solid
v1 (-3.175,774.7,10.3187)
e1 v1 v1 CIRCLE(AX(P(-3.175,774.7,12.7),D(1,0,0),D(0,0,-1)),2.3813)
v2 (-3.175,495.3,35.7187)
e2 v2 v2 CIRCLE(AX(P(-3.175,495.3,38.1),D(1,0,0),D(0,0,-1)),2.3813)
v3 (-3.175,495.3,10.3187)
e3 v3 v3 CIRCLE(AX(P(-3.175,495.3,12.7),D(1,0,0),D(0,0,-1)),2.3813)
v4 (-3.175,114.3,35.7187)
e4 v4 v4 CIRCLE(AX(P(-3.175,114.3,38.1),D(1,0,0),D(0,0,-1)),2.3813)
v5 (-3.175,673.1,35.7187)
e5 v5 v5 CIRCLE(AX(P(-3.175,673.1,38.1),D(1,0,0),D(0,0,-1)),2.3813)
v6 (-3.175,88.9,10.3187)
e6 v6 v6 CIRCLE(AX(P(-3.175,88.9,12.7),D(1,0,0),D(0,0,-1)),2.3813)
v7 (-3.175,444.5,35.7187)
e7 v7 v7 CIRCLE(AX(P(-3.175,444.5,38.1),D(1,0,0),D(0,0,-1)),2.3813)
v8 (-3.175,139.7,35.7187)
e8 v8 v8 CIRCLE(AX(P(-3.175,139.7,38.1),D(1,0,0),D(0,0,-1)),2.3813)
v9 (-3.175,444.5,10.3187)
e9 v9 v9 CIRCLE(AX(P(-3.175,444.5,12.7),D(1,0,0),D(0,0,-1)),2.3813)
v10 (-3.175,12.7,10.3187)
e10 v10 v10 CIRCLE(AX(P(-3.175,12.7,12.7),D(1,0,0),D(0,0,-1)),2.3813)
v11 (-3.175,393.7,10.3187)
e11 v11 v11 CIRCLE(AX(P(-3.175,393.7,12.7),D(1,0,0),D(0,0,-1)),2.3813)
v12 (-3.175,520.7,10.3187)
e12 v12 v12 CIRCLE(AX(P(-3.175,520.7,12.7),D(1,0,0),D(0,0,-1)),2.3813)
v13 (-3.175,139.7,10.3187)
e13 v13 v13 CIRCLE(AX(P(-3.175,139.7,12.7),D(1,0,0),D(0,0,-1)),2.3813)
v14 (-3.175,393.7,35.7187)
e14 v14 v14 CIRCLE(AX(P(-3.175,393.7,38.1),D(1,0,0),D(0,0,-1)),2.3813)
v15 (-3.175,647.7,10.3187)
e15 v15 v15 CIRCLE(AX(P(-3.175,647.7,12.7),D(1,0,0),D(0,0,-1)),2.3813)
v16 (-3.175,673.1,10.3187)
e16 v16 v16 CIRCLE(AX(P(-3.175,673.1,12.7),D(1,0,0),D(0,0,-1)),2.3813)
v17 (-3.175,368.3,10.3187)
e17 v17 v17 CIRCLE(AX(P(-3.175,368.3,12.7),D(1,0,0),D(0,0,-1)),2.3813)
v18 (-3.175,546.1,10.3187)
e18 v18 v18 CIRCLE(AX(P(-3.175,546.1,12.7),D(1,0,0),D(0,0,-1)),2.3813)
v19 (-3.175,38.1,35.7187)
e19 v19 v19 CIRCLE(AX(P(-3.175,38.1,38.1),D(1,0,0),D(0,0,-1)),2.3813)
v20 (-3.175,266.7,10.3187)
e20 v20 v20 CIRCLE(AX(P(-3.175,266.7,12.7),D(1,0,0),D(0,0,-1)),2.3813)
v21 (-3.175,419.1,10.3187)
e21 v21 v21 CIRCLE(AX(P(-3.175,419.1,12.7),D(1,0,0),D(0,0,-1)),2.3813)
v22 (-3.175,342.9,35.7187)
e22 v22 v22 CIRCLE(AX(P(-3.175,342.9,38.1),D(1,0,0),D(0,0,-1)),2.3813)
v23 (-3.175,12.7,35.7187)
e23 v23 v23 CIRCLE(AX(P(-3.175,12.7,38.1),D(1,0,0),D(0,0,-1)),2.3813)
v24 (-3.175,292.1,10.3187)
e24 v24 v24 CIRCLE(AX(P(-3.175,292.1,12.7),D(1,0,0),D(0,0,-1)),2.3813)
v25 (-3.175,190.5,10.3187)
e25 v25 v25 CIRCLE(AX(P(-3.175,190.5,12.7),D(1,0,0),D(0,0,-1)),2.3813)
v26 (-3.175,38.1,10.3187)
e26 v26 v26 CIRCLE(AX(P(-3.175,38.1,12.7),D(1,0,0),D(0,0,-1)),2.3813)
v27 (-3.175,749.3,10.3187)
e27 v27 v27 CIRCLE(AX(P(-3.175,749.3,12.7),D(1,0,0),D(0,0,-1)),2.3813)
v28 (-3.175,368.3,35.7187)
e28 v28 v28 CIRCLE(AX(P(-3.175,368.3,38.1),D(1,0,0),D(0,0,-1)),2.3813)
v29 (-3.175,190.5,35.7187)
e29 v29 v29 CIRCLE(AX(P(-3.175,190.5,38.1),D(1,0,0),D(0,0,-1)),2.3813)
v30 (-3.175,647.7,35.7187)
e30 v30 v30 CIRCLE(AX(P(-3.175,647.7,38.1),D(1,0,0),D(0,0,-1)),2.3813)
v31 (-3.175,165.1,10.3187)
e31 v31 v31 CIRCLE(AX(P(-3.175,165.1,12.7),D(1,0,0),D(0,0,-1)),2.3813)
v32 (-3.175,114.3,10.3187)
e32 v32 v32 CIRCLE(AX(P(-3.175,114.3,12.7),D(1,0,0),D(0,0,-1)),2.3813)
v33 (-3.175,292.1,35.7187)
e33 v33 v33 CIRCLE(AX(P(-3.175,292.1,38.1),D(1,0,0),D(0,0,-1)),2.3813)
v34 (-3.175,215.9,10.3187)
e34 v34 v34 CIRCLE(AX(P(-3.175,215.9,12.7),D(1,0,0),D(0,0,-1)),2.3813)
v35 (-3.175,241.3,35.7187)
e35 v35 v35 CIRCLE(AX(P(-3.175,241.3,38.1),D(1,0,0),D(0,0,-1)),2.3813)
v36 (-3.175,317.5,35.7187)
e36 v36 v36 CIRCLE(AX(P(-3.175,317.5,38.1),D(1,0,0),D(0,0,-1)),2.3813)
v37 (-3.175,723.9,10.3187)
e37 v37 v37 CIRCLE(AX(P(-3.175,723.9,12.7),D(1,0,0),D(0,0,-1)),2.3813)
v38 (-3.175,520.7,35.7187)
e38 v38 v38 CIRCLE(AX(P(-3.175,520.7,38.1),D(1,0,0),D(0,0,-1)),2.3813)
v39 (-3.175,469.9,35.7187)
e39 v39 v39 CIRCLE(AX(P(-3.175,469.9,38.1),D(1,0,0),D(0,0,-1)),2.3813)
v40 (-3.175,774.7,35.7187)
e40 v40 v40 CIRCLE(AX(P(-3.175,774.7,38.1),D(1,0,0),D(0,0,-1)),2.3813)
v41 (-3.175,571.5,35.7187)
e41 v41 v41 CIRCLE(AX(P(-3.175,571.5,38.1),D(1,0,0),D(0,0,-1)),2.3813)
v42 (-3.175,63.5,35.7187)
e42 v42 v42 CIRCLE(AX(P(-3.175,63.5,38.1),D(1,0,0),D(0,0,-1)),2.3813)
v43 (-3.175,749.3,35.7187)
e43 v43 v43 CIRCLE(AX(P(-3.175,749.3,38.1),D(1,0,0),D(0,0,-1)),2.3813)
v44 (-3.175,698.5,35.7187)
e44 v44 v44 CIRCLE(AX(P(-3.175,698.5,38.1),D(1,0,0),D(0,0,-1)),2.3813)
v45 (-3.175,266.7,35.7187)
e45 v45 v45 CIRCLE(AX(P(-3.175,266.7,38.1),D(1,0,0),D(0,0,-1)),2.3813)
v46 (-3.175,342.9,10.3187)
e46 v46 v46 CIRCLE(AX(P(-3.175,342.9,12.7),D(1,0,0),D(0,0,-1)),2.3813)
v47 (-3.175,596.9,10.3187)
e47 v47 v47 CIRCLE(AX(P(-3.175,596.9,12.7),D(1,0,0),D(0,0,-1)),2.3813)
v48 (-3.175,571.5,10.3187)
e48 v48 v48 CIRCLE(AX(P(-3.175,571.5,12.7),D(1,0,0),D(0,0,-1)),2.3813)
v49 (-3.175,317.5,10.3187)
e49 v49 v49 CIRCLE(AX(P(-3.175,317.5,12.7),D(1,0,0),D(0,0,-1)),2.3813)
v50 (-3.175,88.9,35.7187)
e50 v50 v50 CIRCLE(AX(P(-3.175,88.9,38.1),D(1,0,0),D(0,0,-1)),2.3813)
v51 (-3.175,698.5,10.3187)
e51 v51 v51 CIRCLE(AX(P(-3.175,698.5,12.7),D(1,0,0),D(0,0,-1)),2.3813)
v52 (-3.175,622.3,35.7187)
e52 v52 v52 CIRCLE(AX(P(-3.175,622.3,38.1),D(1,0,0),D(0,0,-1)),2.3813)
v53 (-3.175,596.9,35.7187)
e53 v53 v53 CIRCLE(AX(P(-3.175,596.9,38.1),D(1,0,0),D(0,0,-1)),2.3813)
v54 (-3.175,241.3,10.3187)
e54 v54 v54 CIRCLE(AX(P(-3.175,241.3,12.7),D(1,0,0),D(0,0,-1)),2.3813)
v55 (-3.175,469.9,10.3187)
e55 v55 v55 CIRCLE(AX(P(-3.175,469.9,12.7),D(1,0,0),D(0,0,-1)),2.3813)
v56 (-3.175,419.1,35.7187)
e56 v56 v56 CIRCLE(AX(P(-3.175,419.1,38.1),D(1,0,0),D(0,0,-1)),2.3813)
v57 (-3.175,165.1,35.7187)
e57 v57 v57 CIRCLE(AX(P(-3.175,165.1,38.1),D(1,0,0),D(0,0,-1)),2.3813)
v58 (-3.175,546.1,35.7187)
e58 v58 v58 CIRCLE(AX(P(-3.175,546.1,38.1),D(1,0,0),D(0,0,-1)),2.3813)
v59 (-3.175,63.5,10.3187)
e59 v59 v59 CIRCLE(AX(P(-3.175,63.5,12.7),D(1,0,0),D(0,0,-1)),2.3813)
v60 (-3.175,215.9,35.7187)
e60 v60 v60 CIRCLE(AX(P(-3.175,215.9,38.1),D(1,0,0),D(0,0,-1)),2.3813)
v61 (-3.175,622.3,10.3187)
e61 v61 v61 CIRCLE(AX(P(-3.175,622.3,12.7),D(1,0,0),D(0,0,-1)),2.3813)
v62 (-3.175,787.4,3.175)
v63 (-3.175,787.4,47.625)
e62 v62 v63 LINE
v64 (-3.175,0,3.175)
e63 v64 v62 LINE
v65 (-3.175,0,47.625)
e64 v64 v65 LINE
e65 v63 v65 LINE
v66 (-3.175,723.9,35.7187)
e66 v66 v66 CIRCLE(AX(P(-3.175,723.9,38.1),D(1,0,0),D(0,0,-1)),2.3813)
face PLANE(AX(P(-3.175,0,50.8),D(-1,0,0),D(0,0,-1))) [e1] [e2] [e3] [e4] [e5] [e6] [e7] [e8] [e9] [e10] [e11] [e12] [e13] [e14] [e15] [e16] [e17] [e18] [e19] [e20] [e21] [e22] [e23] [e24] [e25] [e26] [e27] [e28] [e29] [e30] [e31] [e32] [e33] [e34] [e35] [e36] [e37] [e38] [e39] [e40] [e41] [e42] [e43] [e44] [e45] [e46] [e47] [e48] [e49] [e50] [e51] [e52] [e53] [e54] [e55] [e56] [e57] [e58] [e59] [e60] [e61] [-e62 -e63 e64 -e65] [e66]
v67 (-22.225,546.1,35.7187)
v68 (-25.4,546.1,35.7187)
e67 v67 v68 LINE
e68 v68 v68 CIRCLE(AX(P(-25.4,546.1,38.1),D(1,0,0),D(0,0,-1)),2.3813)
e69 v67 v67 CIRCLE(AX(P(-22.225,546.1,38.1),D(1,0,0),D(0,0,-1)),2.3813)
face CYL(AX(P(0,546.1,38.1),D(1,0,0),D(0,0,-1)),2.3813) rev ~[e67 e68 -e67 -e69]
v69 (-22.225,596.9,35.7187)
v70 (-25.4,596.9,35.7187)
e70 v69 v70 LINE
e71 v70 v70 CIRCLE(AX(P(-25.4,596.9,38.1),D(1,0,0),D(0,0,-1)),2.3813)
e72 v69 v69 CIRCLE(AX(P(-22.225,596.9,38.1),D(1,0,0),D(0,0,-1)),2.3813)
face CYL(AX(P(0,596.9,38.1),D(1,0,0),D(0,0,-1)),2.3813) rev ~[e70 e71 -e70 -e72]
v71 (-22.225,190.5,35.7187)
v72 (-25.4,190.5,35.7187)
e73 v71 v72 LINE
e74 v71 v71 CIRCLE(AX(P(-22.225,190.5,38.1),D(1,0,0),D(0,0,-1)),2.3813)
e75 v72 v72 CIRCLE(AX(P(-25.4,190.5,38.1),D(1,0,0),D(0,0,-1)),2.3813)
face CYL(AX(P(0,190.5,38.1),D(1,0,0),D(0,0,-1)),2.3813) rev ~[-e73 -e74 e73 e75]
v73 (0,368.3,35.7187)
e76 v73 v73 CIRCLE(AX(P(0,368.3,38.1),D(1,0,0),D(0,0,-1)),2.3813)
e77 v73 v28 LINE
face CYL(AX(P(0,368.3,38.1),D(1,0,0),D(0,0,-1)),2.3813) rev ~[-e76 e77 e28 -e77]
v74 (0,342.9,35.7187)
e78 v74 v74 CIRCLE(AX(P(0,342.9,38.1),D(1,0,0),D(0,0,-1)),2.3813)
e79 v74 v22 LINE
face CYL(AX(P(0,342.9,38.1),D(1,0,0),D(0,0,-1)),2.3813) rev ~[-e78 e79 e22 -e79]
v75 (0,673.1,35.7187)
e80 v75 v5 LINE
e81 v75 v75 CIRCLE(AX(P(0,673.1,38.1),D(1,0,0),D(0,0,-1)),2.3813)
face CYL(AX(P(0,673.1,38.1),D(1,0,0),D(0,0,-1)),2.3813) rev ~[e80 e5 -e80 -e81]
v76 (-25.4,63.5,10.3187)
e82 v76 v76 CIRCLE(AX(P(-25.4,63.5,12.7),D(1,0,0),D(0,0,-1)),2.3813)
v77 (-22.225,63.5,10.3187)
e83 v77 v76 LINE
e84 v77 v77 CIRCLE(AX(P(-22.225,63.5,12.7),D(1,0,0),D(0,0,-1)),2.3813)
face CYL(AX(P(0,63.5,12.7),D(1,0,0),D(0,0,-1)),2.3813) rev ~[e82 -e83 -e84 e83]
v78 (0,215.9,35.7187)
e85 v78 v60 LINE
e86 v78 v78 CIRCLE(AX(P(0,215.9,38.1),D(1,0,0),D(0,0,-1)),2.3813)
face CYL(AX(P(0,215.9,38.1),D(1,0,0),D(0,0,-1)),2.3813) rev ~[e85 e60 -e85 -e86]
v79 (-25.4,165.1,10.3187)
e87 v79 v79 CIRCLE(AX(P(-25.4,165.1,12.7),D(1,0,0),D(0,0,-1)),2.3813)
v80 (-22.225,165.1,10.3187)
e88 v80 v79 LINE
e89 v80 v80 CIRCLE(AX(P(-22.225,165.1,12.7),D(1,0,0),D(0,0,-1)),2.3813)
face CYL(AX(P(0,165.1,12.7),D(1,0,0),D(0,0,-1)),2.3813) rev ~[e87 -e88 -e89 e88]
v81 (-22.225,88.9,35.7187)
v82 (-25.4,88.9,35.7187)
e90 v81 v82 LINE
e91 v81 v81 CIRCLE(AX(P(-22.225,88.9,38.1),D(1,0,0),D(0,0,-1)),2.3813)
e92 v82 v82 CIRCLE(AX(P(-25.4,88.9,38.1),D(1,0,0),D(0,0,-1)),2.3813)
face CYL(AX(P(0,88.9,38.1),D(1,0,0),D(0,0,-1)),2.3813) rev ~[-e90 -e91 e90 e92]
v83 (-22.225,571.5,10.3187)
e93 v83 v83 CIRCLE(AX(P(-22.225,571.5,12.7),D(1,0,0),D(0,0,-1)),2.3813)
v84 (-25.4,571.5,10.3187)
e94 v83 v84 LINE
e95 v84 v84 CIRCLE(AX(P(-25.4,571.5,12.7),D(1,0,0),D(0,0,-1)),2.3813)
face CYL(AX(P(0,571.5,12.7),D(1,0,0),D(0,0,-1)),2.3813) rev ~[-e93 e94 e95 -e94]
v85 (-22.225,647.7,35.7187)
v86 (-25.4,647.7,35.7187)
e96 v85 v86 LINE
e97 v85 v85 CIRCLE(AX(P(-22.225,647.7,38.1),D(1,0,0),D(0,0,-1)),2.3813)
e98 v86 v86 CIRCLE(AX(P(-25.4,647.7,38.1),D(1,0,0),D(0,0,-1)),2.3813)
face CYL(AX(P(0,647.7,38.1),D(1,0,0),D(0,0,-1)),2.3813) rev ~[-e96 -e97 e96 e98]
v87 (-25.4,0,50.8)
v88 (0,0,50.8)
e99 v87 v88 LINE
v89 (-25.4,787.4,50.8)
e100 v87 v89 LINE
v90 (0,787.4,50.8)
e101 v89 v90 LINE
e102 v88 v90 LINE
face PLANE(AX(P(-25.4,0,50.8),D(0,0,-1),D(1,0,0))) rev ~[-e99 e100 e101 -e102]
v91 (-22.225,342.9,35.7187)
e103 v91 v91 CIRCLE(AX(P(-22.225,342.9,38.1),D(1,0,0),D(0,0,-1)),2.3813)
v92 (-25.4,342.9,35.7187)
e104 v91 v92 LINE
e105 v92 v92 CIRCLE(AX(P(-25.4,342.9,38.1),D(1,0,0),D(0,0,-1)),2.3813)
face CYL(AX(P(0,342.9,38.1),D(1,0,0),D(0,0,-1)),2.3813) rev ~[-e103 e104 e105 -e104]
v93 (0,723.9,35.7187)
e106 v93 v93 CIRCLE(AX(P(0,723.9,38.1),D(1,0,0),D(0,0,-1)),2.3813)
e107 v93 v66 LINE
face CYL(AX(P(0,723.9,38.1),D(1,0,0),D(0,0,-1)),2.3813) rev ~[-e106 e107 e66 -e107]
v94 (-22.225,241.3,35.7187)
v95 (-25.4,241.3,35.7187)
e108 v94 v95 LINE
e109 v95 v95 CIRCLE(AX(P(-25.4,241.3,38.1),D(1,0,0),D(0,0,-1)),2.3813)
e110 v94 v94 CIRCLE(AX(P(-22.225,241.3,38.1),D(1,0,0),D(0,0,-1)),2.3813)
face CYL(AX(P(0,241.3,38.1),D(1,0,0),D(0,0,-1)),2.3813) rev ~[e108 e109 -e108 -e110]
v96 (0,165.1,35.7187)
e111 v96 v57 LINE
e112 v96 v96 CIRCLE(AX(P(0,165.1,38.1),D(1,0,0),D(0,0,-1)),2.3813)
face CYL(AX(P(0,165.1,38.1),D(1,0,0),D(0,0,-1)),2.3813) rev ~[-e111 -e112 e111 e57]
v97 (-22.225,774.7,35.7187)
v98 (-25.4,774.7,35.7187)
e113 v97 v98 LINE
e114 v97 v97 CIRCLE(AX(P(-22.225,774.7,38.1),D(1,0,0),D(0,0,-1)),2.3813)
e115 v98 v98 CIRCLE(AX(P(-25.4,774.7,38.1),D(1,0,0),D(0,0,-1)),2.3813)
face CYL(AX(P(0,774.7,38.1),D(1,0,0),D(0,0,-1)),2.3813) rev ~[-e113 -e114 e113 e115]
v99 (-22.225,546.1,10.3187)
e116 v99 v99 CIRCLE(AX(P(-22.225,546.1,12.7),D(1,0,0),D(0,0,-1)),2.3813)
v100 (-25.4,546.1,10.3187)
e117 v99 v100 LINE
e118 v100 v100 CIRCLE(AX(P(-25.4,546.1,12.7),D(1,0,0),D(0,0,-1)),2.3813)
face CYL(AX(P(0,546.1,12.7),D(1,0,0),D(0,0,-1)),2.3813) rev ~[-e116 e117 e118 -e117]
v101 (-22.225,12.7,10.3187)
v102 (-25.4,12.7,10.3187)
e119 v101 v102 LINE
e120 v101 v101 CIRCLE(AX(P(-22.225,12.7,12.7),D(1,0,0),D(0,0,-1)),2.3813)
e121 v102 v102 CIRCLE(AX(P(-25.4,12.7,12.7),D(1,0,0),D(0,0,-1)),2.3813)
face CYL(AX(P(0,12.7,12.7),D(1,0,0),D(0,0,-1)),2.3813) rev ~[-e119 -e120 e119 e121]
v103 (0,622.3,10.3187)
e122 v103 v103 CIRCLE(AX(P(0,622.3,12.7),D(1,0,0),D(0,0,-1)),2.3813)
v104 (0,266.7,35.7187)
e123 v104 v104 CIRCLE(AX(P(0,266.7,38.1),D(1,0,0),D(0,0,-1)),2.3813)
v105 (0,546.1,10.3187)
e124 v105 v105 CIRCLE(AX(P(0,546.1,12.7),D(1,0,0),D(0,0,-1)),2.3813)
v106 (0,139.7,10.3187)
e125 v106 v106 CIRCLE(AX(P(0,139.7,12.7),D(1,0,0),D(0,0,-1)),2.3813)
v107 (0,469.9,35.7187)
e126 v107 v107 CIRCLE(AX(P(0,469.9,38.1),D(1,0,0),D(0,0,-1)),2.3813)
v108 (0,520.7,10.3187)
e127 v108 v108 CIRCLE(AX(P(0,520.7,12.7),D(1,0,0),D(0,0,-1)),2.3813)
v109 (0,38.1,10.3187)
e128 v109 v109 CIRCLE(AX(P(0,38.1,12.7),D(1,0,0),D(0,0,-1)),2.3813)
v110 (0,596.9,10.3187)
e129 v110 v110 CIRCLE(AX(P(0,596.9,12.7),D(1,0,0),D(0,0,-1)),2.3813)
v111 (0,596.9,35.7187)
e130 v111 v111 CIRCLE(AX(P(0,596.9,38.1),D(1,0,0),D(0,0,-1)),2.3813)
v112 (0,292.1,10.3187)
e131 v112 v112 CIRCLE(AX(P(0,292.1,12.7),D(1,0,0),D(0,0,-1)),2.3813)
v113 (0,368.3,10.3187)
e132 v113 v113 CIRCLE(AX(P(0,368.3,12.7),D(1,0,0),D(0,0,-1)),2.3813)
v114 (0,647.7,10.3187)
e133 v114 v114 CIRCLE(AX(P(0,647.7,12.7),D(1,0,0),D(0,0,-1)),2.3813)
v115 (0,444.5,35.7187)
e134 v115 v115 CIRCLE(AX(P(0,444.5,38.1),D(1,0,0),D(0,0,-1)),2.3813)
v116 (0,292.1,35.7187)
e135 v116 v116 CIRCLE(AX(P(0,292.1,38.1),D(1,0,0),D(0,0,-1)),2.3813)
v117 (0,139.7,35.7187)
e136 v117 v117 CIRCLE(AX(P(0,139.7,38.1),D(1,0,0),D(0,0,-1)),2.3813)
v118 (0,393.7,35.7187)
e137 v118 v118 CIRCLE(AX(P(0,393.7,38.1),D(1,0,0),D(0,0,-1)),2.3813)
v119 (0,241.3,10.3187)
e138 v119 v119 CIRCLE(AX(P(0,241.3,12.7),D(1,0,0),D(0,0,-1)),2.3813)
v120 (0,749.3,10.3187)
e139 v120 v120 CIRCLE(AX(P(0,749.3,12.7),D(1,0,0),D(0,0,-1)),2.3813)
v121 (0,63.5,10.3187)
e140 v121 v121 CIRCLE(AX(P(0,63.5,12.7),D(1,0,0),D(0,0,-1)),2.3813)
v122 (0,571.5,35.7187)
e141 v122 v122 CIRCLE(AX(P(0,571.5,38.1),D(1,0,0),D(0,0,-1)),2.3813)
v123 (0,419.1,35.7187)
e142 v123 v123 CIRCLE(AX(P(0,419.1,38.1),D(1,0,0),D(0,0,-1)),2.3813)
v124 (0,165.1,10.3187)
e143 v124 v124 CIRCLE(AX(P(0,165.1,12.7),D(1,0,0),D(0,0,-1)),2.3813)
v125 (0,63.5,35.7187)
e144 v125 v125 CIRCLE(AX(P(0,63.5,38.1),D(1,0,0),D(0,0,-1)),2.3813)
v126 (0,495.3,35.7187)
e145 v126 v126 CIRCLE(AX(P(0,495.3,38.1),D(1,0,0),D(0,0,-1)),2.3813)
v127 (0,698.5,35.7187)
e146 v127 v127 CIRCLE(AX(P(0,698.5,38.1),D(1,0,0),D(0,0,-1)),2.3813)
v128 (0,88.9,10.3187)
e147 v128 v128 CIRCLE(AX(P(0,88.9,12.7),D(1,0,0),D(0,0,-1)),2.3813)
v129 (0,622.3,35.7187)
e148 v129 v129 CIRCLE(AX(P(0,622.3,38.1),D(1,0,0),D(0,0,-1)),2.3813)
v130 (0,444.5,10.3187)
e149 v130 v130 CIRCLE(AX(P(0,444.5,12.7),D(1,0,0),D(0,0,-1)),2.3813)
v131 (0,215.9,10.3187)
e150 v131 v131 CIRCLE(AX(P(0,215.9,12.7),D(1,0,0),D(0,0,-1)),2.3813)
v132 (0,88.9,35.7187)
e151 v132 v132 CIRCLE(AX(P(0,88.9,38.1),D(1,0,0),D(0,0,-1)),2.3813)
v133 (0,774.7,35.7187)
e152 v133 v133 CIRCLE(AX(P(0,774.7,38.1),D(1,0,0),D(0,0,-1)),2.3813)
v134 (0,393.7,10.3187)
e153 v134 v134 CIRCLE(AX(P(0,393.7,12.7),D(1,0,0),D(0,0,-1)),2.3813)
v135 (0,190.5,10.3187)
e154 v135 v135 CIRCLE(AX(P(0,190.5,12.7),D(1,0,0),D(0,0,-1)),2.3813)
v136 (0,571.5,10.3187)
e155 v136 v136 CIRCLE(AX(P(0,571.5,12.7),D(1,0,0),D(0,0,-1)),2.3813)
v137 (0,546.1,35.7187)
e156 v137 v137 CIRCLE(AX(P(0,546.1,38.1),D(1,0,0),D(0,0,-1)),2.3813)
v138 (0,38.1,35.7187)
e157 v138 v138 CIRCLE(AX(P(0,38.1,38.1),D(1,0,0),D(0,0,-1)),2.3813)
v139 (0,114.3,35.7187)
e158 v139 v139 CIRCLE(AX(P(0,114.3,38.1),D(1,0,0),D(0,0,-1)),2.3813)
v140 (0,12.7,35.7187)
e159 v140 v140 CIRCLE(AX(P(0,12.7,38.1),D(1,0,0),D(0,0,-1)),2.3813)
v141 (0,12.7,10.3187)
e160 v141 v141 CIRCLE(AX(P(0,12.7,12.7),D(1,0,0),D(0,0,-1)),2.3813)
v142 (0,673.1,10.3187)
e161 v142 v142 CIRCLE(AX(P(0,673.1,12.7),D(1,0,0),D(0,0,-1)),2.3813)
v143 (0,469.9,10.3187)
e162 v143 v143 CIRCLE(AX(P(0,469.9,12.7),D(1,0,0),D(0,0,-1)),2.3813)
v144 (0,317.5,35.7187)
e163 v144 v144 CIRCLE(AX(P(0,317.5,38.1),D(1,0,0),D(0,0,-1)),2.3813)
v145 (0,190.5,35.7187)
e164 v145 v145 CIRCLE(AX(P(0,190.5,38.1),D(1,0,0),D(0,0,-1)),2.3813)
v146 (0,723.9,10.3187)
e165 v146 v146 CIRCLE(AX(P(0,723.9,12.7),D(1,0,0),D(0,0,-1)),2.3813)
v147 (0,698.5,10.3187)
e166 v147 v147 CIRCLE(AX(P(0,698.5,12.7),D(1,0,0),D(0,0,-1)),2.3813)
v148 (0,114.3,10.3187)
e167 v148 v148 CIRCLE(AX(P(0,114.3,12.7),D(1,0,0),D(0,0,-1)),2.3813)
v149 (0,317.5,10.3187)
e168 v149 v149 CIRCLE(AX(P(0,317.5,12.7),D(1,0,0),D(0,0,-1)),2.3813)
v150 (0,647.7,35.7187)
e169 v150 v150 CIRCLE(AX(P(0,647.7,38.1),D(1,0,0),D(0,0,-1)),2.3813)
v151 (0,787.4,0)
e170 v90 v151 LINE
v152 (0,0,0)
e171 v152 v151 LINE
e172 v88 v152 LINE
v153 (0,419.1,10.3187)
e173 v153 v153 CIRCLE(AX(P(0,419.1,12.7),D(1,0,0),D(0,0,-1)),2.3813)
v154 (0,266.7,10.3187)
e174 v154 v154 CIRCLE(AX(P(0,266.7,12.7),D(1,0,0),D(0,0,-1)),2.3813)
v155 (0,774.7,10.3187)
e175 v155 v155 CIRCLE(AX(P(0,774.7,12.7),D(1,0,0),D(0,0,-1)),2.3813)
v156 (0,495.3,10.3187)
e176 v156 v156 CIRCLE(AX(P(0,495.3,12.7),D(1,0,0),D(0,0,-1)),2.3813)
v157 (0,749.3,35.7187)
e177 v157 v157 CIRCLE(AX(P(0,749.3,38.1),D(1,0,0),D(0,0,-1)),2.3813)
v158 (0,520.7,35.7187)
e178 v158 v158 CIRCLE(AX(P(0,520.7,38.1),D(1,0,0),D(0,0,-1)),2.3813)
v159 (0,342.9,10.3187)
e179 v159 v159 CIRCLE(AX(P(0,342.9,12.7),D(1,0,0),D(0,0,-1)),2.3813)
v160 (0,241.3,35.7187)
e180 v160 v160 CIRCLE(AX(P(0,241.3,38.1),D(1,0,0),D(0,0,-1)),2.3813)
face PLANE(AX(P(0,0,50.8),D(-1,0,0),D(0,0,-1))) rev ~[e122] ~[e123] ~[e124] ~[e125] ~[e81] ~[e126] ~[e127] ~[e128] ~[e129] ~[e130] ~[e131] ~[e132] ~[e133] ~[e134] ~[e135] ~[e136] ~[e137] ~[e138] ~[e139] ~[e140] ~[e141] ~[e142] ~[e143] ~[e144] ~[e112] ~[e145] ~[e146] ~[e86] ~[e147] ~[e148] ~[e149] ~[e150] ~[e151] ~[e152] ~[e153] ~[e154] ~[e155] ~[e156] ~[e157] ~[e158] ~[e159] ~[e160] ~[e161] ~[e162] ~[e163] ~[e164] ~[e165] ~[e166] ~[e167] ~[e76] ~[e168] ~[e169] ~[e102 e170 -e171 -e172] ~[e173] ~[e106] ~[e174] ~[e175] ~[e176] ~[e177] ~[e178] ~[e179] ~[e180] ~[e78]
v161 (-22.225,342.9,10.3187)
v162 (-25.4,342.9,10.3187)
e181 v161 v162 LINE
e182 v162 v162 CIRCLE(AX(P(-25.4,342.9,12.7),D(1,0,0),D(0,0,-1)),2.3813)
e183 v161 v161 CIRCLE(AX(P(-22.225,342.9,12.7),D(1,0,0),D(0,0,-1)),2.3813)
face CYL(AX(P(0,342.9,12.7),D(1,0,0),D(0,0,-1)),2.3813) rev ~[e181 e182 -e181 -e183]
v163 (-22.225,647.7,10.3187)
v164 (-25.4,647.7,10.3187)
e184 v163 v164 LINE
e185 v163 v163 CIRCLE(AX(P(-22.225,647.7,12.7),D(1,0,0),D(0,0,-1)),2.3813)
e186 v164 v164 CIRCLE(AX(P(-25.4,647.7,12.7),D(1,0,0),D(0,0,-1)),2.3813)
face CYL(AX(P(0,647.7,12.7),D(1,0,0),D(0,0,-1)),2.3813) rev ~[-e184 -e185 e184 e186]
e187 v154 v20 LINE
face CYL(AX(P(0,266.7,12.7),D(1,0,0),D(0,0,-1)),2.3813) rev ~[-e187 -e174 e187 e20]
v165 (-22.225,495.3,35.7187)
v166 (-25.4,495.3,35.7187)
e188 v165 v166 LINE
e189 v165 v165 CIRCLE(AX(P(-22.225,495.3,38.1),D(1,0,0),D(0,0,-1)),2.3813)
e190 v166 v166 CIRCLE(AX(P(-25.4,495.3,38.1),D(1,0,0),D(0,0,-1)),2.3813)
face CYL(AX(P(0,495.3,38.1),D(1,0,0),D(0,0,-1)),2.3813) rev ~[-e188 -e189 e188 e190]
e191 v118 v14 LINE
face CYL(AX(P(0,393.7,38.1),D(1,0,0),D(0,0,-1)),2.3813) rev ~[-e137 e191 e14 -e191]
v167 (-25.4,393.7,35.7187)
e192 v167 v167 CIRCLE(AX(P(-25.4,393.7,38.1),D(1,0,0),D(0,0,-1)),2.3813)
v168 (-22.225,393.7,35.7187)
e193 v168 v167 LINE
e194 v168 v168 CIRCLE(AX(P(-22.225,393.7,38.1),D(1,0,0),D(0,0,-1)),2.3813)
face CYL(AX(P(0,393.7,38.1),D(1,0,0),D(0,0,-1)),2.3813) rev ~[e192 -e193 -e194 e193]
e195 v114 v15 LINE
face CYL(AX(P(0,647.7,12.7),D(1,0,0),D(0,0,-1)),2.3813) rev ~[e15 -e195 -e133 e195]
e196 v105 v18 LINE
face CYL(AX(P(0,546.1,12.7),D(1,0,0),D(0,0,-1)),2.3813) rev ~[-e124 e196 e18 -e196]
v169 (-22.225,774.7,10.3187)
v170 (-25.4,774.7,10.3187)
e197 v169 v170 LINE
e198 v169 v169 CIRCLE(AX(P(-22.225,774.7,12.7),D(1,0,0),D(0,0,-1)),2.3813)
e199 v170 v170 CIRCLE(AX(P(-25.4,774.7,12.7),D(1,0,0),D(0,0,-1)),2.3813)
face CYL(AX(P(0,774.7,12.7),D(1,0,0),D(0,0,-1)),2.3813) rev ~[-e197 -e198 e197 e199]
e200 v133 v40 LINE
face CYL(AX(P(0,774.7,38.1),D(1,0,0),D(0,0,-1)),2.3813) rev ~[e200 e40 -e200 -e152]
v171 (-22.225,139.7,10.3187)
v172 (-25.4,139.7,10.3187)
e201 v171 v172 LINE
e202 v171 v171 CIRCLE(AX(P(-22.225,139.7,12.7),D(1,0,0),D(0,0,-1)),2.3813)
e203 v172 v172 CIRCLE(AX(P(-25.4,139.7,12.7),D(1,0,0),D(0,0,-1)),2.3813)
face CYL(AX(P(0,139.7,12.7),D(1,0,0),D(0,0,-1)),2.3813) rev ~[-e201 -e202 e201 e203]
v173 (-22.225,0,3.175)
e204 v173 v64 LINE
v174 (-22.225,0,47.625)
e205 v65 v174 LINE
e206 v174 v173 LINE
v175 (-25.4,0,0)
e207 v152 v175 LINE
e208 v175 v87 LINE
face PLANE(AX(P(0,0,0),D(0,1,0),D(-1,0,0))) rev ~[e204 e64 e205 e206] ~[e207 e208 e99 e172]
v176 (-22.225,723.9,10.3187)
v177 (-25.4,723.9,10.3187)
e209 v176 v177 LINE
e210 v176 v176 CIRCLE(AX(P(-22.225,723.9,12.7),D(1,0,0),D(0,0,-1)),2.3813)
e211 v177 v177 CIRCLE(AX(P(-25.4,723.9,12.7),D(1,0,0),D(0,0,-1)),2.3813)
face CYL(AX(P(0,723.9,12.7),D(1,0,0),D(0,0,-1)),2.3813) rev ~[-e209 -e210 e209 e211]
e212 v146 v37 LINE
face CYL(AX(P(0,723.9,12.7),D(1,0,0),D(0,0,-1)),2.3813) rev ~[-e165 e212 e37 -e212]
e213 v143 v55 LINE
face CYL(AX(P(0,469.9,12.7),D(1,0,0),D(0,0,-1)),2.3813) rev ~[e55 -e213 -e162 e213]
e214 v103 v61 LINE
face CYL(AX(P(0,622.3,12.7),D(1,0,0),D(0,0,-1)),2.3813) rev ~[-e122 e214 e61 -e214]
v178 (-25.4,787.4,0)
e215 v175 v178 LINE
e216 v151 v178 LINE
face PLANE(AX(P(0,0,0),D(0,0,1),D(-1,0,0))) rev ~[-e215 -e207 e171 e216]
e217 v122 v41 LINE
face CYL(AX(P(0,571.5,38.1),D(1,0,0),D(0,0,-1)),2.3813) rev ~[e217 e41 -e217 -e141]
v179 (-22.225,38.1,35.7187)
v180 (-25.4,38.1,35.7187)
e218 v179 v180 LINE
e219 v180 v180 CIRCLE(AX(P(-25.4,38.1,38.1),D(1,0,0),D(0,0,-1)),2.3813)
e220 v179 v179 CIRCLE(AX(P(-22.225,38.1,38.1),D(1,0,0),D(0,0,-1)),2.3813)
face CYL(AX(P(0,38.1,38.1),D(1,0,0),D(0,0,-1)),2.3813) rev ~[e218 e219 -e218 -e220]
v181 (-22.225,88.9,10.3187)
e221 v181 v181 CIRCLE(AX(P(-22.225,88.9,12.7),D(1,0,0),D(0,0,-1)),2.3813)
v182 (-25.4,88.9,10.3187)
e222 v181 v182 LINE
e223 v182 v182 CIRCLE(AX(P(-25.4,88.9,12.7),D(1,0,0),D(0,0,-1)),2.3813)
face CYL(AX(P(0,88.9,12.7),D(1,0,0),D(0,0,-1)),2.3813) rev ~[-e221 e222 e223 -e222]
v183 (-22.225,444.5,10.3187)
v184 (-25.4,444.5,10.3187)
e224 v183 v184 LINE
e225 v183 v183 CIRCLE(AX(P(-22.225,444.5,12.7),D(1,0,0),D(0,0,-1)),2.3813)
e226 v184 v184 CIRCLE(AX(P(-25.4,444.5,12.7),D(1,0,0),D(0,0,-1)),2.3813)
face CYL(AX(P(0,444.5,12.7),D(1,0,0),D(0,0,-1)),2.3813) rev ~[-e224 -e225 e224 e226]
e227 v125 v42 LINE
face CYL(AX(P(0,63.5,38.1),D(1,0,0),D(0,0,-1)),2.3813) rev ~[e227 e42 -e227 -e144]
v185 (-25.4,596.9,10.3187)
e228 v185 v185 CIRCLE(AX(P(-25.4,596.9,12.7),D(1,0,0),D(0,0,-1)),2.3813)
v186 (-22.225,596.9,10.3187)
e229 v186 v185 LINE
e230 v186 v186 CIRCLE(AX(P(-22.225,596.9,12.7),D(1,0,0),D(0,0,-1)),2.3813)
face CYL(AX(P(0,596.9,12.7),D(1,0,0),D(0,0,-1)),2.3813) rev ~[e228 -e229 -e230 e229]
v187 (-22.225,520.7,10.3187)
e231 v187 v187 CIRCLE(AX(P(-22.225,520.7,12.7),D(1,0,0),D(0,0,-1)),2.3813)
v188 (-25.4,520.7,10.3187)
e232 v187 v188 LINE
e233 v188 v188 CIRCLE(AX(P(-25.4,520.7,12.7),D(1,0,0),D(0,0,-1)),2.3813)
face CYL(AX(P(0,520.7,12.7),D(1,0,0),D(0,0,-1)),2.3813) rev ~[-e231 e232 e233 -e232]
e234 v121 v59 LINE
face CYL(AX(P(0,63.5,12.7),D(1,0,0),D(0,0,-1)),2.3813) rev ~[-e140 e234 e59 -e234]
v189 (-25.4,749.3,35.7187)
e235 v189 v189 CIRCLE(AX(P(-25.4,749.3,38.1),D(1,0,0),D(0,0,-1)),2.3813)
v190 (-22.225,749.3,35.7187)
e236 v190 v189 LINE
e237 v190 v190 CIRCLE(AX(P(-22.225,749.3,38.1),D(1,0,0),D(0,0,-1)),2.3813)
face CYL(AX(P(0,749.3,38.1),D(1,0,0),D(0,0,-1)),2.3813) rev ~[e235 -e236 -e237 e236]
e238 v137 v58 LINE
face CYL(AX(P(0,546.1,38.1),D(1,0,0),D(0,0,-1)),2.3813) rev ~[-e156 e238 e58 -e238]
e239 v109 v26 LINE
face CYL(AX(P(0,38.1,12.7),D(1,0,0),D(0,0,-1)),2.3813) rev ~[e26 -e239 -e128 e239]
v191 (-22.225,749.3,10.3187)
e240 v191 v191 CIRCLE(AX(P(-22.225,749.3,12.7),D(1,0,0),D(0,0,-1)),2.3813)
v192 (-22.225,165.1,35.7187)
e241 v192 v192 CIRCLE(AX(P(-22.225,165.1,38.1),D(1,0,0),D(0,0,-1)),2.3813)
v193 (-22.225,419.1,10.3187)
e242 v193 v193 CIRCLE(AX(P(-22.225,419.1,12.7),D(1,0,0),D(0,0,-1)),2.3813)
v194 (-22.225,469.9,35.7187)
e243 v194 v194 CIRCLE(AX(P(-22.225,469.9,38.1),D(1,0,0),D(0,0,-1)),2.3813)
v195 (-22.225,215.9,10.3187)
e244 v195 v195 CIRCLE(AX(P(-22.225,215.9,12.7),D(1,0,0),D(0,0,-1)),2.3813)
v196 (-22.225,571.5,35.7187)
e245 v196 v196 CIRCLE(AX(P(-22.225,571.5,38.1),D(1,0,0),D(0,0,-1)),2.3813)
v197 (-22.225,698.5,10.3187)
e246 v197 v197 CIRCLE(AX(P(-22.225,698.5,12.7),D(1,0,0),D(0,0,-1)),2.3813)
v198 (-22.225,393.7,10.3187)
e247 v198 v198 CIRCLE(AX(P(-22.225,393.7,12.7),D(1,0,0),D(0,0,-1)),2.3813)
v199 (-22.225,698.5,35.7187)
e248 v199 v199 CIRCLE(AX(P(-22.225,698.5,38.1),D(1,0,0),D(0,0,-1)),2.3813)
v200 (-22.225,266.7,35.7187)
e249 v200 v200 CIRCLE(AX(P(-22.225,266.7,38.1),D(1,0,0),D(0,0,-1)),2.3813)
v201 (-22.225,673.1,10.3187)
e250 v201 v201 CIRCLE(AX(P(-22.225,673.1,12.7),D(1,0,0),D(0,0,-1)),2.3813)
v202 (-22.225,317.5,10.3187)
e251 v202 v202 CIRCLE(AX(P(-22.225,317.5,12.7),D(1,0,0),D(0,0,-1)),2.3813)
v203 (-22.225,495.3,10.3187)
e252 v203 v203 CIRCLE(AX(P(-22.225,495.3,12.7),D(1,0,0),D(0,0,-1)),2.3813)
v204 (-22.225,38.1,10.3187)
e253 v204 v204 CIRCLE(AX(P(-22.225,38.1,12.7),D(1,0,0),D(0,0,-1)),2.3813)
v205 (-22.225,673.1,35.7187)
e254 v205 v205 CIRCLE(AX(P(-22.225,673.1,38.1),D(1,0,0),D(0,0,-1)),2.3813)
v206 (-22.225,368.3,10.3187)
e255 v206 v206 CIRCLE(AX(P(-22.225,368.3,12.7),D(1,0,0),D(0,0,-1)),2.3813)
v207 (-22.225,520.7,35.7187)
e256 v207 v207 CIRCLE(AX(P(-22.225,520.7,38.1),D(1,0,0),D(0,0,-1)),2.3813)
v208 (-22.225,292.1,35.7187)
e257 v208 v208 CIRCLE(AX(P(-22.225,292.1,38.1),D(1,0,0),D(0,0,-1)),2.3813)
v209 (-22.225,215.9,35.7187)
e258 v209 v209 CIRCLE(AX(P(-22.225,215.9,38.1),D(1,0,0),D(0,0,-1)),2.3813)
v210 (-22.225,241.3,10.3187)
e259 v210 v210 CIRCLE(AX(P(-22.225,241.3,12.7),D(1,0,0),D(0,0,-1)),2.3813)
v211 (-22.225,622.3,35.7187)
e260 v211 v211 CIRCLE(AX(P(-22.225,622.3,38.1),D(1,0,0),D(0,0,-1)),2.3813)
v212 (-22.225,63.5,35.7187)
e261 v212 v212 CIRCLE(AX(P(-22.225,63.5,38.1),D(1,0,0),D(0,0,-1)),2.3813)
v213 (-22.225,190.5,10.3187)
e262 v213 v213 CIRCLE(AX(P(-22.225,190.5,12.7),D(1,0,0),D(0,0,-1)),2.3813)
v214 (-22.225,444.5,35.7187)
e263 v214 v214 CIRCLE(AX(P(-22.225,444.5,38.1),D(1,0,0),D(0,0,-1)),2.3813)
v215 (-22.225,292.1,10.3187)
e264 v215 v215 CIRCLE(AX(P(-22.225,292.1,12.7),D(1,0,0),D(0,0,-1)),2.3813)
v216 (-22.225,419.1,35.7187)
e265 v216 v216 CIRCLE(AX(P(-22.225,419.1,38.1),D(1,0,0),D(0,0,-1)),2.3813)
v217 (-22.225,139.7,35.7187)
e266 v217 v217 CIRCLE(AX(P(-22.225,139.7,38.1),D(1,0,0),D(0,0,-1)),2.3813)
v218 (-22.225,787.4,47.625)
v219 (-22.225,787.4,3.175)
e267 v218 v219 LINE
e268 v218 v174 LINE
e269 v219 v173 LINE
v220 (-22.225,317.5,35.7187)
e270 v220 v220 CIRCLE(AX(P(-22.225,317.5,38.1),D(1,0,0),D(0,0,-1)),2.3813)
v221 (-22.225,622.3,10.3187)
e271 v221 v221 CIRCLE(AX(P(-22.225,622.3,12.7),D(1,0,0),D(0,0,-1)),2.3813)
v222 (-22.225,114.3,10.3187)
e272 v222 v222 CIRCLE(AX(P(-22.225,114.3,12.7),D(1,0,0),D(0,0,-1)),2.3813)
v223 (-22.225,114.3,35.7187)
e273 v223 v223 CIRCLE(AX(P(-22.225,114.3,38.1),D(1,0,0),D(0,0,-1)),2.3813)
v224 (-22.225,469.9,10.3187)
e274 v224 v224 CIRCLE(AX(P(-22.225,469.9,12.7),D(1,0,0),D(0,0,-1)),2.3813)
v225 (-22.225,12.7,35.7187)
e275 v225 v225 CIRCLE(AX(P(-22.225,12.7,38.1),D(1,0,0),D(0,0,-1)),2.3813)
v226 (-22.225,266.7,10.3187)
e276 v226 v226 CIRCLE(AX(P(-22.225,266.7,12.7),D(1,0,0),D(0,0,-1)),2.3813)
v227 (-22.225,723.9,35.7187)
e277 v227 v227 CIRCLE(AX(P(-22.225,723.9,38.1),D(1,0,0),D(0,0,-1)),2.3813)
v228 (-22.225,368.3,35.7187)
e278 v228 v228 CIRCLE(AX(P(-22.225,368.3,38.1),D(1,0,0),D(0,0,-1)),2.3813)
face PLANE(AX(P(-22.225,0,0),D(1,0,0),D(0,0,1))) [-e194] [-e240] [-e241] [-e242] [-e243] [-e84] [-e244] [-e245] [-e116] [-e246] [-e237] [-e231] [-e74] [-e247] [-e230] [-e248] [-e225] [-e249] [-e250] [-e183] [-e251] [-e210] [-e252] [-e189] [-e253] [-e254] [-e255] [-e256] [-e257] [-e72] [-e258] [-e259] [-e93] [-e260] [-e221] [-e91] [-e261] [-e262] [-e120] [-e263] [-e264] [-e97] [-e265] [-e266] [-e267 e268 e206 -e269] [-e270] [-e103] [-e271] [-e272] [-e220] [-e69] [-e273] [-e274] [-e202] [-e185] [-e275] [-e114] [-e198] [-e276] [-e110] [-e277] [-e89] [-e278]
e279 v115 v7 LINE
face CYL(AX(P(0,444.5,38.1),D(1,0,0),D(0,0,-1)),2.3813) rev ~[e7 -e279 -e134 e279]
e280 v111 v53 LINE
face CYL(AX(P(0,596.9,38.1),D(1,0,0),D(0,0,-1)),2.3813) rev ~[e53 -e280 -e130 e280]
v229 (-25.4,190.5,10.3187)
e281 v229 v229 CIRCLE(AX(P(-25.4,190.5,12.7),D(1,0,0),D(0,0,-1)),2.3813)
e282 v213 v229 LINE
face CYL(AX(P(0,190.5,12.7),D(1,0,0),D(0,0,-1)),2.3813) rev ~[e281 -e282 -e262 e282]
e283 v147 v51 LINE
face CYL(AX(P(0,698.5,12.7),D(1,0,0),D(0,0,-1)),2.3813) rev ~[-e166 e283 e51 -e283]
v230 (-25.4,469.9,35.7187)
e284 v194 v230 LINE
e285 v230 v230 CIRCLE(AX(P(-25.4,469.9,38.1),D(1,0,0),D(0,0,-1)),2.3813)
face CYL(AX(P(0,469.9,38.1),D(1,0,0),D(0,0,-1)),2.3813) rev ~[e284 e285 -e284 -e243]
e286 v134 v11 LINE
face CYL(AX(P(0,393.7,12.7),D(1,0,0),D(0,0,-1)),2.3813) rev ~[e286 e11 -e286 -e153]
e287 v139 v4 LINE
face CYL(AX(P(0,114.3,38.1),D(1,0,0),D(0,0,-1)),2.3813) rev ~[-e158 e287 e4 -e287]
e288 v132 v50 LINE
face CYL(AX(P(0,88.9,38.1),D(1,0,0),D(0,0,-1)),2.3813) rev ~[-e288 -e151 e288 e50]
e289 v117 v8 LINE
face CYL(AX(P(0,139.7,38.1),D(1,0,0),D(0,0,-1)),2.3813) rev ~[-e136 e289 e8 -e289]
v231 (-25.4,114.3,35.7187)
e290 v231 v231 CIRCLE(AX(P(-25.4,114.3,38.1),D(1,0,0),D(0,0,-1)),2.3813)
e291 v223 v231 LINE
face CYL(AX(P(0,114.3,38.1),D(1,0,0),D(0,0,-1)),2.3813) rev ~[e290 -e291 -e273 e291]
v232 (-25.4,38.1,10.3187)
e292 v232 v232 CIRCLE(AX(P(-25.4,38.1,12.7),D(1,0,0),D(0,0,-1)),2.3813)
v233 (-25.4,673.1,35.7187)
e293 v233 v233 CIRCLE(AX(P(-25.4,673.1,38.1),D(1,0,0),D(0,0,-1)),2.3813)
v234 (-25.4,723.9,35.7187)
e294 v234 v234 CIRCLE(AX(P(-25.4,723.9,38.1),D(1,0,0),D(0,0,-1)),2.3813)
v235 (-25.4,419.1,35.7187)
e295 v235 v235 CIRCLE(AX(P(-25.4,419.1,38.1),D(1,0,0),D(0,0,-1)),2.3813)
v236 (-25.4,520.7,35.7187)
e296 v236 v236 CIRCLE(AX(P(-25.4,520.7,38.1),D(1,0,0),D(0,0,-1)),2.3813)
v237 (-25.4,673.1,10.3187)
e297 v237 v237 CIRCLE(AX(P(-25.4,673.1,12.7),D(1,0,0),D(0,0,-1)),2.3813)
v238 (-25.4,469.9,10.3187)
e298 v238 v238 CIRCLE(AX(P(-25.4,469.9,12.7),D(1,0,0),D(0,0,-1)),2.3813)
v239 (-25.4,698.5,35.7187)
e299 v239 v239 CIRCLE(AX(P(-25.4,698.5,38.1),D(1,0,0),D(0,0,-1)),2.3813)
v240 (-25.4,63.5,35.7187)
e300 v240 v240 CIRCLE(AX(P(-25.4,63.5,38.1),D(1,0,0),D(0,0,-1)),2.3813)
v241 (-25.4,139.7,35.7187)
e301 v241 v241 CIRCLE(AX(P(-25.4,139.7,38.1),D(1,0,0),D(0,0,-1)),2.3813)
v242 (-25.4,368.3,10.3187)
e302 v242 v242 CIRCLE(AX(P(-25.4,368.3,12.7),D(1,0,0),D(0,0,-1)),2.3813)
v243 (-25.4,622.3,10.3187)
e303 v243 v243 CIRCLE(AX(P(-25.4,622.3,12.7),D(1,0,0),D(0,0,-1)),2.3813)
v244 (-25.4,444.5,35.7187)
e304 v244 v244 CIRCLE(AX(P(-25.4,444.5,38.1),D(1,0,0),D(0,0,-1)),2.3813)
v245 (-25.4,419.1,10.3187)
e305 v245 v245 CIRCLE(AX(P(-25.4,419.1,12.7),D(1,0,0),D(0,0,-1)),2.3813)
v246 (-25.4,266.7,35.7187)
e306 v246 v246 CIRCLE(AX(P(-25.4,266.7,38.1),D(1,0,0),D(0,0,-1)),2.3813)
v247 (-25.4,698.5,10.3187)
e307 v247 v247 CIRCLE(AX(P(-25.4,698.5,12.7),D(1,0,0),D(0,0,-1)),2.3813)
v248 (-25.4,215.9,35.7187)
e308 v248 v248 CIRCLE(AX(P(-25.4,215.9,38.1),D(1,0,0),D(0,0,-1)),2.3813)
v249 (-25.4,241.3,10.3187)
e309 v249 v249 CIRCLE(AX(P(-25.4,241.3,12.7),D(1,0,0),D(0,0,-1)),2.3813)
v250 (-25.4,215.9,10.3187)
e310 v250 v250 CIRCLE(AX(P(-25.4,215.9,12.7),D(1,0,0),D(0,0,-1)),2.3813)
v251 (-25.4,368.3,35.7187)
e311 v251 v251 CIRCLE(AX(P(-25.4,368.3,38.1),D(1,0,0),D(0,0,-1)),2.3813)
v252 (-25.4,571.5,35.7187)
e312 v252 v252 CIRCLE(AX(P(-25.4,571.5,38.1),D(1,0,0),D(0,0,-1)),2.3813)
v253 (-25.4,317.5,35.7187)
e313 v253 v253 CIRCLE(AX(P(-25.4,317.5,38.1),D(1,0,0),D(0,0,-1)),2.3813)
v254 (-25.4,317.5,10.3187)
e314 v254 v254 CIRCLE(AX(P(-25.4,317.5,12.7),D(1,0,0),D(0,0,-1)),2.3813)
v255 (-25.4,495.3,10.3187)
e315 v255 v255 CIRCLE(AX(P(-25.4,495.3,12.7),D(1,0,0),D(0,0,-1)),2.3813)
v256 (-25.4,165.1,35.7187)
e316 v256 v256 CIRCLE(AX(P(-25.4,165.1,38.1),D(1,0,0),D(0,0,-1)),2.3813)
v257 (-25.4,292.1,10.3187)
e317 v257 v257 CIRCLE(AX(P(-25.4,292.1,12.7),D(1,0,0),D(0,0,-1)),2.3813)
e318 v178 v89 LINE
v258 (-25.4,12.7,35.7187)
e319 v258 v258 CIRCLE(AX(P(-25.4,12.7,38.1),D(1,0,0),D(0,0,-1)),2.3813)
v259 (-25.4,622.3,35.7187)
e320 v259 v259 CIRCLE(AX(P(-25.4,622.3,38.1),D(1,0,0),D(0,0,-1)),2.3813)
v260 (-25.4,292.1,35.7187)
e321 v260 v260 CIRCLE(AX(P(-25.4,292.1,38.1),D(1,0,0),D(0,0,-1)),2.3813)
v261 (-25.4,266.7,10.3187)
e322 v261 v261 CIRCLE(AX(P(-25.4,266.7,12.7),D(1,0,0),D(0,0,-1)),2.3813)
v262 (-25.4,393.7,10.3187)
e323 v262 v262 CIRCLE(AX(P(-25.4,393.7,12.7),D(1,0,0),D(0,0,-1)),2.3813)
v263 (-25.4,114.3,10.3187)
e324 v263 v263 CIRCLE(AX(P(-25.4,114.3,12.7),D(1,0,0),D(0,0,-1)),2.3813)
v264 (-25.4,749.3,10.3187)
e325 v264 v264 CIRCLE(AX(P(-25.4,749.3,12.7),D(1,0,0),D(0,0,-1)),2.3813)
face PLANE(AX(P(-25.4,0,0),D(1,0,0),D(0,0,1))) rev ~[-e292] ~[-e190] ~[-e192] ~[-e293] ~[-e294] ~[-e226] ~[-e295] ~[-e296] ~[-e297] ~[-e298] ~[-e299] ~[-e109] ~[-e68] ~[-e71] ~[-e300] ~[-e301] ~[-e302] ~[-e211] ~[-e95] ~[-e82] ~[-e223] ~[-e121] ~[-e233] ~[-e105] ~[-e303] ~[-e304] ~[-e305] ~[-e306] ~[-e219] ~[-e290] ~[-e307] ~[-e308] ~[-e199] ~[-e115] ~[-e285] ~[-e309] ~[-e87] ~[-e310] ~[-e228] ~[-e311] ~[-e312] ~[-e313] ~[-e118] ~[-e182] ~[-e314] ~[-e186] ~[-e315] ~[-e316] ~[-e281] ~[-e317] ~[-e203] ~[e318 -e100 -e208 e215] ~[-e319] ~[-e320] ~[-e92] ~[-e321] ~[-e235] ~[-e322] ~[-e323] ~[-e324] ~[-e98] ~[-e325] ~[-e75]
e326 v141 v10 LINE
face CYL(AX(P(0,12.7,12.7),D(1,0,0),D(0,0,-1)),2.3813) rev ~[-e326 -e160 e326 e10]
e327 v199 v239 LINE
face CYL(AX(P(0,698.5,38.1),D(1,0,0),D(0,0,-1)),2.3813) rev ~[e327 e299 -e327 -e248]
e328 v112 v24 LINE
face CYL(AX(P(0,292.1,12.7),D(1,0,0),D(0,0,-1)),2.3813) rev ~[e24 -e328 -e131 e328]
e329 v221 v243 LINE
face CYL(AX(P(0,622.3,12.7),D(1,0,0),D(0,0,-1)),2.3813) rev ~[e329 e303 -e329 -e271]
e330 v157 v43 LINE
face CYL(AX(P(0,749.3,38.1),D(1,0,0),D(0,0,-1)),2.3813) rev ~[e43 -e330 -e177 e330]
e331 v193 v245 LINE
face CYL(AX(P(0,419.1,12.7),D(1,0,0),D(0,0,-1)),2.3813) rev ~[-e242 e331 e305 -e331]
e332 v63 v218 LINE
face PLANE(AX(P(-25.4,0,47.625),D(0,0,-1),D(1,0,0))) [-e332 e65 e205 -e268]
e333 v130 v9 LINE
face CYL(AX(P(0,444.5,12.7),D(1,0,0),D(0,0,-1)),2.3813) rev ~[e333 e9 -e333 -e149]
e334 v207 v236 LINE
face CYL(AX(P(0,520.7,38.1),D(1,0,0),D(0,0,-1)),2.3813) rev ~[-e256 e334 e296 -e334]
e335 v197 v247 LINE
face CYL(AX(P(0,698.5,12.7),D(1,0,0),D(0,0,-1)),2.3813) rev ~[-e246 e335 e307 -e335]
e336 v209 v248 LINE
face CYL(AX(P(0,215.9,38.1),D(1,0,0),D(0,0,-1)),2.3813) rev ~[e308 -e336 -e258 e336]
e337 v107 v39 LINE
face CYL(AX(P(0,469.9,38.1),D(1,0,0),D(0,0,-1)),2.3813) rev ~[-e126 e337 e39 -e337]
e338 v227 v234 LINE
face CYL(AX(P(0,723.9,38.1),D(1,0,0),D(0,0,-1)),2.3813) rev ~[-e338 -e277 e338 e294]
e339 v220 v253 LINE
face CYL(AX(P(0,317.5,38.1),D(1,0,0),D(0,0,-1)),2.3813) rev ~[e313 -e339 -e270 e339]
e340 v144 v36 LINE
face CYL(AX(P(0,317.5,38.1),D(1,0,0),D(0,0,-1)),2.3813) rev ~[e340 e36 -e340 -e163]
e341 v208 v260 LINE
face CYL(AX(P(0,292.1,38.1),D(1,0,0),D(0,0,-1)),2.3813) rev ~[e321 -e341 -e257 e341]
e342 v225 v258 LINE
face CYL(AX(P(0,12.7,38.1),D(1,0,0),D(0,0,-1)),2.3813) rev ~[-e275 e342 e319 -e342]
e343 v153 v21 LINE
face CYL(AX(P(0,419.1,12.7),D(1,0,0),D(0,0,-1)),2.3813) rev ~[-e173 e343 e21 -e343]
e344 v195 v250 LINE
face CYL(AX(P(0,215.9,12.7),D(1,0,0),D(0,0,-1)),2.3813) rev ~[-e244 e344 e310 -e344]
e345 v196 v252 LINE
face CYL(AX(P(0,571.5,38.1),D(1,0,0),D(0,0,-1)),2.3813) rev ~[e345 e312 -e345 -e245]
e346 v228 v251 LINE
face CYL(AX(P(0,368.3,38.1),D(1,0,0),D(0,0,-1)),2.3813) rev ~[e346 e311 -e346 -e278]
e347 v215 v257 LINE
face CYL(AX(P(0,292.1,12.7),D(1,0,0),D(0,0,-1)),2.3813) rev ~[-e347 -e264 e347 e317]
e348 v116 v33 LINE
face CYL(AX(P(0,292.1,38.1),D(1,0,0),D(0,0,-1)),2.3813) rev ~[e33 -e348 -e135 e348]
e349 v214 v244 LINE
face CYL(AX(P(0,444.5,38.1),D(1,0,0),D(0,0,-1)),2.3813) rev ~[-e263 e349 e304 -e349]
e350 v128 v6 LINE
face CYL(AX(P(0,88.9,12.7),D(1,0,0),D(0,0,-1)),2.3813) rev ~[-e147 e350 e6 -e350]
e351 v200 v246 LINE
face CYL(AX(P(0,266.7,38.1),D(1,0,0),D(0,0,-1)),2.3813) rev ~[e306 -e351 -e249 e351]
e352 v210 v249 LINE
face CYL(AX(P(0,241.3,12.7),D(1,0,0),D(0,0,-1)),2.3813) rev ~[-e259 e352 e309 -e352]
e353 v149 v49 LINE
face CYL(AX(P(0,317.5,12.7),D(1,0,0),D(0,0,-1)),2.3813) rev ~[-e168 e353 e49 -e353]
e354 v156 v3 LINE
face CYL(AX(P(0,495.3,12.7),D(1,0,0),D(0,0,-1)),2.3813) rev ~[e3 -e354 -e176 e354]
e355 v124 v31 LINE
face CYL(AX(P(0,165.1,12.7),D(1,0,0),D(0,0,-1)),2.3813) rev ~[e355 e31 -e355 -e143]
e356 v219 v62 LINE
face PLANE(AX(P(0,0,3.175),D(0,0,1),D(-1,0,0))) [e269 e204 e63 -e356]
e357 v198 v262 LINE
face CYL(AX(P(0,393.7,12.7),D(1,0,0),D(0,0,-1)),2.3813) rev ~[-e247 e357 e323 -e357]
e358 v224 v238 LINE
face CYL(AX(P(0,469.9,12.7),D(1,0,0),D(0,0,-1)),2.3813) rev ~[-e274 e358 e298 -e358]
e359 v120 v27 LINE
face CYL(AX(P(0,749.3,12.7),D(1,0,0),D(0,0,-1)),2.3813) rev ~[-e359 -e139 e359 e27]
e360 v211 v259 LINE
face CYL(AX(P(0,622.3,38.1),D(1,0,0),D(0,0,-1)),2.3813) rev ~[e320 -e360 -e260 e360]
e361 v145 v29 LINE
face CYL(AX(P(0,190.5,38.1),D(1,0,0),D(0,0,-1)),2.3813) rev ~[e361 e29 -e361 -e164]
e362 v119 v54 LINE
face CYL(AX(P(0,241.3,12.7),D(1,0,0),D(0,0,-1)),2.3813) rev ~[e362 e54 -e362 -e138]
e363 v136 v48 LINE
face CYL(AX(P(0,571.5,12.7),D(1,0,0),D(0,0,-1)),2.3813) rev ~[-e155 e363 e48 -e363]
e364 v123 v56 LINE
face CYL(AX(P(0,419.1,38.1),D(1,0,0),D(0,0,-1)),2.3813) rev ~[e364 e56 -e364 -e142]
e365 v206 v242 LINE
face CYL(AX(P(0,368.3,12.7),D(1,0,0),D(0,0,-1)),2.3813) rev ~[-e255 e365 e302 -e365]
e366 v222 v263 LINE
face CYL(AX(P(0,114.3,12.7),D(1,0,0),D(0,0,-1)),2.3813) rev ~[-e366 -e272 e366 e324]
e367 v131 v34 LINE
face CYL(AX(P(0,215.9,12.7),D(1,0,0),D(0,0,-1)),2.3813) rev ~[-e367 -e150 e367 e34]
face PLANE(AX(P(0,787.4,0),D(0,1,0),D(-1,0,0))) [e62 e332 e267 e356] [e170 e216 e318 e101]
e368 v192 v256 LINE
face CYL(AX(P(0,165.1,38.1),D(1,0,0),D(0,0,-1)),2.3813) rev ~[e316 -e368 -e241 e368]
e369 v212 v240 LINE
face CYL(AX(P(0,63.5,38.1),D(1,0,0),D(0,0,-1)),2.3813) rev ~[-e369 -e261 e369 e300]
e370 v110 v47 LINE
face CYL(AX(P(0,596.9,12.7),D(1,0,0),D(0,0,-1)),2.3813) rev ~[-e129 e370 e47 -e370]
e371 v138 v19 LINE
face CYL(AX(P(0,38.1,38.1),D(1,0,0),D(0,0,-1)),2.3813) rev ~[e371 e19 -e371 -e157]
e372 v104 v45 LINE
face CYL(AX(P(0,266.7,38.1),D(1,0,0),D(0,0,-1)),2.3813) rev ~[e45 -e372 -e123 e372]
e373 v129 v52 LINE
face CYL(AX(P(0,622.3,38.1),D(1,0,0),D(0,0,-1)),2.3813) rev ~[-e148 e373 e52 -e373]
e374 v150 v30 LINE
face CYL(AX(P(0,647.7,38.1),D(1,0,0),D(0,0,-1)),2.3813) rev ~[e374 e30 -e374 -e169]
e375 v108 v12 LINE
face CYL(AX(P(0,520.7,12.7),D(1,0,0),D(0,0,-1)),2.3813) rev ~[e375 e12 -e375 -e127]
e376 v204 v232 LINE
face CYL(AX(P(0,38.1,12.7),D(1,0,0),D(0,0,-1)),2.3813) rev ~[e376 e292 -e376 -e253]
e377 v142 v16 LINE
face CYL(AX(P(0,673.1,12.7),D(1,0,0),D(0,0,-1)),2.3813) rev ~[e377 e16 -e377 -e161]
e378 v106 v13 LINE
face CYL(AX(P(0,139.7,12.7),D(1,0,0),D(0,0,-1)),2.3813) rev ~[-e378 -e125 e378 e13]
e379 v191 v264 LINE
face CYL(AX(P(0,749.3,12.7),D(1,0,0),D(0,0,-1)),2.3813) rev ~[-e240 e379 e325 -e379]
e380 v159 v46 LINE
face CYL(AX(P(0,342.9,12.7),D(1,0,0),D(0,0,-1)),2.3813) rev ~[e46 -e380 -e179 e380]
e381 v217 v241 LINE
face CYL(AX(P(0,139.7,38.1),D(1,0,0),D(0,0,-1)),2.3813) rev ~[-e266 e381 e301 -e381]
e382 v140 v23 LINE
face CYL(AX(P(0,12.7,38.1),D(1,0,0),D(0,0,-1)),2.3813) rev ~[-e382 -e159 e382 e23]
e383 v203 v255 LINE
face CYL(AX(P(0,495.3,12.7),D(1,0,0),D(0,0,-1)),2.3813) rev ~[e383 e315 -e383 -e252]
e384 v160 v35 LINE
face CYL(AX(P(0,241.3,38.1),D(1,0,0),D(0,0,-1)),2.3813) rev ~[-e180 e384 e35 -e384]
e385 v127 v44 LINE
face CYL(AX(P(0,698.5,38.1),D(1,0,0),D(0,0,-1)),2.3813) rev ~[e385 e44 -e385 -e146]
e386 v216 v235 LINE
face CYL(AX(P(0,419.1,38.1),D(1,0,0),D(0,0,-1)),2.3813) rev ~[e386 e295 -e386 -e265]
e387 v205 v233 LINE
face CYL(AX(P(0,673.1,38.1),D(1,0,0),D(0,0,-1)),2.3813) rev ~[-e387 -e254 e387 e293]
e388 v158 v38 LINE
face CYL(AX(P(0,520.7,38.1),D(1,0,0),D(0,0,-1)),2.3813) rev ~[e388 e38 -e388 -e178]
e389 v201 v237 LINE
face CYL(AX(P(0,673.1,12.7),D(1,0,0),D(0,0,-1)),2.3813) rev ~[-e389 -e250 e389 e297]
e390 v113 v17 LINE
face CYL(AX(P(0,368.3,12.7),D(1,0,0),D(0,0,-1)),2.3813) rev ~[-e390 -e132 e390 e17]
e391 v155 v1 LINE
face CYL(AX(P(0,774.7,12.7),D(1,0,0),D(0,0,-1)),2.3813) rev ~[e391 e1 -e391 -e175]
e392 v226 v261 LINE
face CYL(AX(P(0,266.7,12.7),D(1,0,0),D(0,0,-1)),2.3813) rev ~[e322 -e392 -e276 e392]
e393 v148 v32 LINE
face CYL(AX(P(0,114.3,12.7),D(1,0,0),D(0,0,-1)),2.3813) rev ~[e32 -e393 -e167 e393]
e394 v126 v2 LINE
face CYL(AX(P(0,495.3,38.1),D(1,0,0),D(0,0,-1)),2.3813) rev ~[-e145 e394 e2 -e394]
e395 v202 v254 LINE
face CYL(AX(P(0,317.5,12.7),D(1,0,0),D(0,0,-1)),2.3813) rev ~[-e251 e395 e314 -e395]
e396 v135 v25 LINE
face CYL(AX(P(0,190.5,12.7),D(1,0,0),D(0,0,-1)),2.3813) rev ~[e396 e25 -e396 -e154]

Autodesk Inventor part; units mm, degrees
ref_plane "YZ Plane" through (0, 0, 0) normal (1, 0, 0) x (0, 1, 0)
ref_plane "XZ Plane" through (0, 0, 0) normal (0, 1, 0) x (-1, 0, 0)
ref_plane "XY Plane" through (0, 0, 0) normal (0, 0, 1) x (1, 0, 0)
sketch "Sketch2" plane through (0, 0, 0) normal (0, 1, 0) x (-1, 0, 0)
  line L0 (0, 0) -> (25.4, 0)
  line L1 (25.4, 0) -> (25.4, 50.8)
  line L2 (25.4, 50.8) -> (0, 50.8)
  line L3 (0, 50.8) -> (0, 0)
  dimension "d0" = 25.4
  dimension "d1" = 50.8
extrude "Extrusion1" add sketch "Sketch2" along normal blind 787.4
shell "Shell2" thickness 3.175 removed faces 2 at (-16.9333, 0, 16.9333) at (-16.9333, 787.4, 16.9333)
sketch "Sketch3" plane through (0, 0, 50.8) normal (1, 0, 0) x (0, 0, -1)
  line L0 (0, 0) -> (0, 787.4) projected
  line L1 (0, 0) -> (50.8, 0) projected
  circle A0 centre (12.7, 12.7) radius 2.3813
  dimension "d6" = 4.7625
  dimension "d7" = 12.7
  dimension "d8" = 12.7
extrude "Extrusion2" cut sketch "Sketch3" against normal through all
pattern_linear "Rectangular Pattern1" count 31 spacing 25.4 along (0, 1, 0) count 2 spacing 25.4 along (0, 0, -1) of "Extrusion2"
properties part number "Conveyor_Frame_FrontTallRail_2x1" material "Aluminum-6061"
